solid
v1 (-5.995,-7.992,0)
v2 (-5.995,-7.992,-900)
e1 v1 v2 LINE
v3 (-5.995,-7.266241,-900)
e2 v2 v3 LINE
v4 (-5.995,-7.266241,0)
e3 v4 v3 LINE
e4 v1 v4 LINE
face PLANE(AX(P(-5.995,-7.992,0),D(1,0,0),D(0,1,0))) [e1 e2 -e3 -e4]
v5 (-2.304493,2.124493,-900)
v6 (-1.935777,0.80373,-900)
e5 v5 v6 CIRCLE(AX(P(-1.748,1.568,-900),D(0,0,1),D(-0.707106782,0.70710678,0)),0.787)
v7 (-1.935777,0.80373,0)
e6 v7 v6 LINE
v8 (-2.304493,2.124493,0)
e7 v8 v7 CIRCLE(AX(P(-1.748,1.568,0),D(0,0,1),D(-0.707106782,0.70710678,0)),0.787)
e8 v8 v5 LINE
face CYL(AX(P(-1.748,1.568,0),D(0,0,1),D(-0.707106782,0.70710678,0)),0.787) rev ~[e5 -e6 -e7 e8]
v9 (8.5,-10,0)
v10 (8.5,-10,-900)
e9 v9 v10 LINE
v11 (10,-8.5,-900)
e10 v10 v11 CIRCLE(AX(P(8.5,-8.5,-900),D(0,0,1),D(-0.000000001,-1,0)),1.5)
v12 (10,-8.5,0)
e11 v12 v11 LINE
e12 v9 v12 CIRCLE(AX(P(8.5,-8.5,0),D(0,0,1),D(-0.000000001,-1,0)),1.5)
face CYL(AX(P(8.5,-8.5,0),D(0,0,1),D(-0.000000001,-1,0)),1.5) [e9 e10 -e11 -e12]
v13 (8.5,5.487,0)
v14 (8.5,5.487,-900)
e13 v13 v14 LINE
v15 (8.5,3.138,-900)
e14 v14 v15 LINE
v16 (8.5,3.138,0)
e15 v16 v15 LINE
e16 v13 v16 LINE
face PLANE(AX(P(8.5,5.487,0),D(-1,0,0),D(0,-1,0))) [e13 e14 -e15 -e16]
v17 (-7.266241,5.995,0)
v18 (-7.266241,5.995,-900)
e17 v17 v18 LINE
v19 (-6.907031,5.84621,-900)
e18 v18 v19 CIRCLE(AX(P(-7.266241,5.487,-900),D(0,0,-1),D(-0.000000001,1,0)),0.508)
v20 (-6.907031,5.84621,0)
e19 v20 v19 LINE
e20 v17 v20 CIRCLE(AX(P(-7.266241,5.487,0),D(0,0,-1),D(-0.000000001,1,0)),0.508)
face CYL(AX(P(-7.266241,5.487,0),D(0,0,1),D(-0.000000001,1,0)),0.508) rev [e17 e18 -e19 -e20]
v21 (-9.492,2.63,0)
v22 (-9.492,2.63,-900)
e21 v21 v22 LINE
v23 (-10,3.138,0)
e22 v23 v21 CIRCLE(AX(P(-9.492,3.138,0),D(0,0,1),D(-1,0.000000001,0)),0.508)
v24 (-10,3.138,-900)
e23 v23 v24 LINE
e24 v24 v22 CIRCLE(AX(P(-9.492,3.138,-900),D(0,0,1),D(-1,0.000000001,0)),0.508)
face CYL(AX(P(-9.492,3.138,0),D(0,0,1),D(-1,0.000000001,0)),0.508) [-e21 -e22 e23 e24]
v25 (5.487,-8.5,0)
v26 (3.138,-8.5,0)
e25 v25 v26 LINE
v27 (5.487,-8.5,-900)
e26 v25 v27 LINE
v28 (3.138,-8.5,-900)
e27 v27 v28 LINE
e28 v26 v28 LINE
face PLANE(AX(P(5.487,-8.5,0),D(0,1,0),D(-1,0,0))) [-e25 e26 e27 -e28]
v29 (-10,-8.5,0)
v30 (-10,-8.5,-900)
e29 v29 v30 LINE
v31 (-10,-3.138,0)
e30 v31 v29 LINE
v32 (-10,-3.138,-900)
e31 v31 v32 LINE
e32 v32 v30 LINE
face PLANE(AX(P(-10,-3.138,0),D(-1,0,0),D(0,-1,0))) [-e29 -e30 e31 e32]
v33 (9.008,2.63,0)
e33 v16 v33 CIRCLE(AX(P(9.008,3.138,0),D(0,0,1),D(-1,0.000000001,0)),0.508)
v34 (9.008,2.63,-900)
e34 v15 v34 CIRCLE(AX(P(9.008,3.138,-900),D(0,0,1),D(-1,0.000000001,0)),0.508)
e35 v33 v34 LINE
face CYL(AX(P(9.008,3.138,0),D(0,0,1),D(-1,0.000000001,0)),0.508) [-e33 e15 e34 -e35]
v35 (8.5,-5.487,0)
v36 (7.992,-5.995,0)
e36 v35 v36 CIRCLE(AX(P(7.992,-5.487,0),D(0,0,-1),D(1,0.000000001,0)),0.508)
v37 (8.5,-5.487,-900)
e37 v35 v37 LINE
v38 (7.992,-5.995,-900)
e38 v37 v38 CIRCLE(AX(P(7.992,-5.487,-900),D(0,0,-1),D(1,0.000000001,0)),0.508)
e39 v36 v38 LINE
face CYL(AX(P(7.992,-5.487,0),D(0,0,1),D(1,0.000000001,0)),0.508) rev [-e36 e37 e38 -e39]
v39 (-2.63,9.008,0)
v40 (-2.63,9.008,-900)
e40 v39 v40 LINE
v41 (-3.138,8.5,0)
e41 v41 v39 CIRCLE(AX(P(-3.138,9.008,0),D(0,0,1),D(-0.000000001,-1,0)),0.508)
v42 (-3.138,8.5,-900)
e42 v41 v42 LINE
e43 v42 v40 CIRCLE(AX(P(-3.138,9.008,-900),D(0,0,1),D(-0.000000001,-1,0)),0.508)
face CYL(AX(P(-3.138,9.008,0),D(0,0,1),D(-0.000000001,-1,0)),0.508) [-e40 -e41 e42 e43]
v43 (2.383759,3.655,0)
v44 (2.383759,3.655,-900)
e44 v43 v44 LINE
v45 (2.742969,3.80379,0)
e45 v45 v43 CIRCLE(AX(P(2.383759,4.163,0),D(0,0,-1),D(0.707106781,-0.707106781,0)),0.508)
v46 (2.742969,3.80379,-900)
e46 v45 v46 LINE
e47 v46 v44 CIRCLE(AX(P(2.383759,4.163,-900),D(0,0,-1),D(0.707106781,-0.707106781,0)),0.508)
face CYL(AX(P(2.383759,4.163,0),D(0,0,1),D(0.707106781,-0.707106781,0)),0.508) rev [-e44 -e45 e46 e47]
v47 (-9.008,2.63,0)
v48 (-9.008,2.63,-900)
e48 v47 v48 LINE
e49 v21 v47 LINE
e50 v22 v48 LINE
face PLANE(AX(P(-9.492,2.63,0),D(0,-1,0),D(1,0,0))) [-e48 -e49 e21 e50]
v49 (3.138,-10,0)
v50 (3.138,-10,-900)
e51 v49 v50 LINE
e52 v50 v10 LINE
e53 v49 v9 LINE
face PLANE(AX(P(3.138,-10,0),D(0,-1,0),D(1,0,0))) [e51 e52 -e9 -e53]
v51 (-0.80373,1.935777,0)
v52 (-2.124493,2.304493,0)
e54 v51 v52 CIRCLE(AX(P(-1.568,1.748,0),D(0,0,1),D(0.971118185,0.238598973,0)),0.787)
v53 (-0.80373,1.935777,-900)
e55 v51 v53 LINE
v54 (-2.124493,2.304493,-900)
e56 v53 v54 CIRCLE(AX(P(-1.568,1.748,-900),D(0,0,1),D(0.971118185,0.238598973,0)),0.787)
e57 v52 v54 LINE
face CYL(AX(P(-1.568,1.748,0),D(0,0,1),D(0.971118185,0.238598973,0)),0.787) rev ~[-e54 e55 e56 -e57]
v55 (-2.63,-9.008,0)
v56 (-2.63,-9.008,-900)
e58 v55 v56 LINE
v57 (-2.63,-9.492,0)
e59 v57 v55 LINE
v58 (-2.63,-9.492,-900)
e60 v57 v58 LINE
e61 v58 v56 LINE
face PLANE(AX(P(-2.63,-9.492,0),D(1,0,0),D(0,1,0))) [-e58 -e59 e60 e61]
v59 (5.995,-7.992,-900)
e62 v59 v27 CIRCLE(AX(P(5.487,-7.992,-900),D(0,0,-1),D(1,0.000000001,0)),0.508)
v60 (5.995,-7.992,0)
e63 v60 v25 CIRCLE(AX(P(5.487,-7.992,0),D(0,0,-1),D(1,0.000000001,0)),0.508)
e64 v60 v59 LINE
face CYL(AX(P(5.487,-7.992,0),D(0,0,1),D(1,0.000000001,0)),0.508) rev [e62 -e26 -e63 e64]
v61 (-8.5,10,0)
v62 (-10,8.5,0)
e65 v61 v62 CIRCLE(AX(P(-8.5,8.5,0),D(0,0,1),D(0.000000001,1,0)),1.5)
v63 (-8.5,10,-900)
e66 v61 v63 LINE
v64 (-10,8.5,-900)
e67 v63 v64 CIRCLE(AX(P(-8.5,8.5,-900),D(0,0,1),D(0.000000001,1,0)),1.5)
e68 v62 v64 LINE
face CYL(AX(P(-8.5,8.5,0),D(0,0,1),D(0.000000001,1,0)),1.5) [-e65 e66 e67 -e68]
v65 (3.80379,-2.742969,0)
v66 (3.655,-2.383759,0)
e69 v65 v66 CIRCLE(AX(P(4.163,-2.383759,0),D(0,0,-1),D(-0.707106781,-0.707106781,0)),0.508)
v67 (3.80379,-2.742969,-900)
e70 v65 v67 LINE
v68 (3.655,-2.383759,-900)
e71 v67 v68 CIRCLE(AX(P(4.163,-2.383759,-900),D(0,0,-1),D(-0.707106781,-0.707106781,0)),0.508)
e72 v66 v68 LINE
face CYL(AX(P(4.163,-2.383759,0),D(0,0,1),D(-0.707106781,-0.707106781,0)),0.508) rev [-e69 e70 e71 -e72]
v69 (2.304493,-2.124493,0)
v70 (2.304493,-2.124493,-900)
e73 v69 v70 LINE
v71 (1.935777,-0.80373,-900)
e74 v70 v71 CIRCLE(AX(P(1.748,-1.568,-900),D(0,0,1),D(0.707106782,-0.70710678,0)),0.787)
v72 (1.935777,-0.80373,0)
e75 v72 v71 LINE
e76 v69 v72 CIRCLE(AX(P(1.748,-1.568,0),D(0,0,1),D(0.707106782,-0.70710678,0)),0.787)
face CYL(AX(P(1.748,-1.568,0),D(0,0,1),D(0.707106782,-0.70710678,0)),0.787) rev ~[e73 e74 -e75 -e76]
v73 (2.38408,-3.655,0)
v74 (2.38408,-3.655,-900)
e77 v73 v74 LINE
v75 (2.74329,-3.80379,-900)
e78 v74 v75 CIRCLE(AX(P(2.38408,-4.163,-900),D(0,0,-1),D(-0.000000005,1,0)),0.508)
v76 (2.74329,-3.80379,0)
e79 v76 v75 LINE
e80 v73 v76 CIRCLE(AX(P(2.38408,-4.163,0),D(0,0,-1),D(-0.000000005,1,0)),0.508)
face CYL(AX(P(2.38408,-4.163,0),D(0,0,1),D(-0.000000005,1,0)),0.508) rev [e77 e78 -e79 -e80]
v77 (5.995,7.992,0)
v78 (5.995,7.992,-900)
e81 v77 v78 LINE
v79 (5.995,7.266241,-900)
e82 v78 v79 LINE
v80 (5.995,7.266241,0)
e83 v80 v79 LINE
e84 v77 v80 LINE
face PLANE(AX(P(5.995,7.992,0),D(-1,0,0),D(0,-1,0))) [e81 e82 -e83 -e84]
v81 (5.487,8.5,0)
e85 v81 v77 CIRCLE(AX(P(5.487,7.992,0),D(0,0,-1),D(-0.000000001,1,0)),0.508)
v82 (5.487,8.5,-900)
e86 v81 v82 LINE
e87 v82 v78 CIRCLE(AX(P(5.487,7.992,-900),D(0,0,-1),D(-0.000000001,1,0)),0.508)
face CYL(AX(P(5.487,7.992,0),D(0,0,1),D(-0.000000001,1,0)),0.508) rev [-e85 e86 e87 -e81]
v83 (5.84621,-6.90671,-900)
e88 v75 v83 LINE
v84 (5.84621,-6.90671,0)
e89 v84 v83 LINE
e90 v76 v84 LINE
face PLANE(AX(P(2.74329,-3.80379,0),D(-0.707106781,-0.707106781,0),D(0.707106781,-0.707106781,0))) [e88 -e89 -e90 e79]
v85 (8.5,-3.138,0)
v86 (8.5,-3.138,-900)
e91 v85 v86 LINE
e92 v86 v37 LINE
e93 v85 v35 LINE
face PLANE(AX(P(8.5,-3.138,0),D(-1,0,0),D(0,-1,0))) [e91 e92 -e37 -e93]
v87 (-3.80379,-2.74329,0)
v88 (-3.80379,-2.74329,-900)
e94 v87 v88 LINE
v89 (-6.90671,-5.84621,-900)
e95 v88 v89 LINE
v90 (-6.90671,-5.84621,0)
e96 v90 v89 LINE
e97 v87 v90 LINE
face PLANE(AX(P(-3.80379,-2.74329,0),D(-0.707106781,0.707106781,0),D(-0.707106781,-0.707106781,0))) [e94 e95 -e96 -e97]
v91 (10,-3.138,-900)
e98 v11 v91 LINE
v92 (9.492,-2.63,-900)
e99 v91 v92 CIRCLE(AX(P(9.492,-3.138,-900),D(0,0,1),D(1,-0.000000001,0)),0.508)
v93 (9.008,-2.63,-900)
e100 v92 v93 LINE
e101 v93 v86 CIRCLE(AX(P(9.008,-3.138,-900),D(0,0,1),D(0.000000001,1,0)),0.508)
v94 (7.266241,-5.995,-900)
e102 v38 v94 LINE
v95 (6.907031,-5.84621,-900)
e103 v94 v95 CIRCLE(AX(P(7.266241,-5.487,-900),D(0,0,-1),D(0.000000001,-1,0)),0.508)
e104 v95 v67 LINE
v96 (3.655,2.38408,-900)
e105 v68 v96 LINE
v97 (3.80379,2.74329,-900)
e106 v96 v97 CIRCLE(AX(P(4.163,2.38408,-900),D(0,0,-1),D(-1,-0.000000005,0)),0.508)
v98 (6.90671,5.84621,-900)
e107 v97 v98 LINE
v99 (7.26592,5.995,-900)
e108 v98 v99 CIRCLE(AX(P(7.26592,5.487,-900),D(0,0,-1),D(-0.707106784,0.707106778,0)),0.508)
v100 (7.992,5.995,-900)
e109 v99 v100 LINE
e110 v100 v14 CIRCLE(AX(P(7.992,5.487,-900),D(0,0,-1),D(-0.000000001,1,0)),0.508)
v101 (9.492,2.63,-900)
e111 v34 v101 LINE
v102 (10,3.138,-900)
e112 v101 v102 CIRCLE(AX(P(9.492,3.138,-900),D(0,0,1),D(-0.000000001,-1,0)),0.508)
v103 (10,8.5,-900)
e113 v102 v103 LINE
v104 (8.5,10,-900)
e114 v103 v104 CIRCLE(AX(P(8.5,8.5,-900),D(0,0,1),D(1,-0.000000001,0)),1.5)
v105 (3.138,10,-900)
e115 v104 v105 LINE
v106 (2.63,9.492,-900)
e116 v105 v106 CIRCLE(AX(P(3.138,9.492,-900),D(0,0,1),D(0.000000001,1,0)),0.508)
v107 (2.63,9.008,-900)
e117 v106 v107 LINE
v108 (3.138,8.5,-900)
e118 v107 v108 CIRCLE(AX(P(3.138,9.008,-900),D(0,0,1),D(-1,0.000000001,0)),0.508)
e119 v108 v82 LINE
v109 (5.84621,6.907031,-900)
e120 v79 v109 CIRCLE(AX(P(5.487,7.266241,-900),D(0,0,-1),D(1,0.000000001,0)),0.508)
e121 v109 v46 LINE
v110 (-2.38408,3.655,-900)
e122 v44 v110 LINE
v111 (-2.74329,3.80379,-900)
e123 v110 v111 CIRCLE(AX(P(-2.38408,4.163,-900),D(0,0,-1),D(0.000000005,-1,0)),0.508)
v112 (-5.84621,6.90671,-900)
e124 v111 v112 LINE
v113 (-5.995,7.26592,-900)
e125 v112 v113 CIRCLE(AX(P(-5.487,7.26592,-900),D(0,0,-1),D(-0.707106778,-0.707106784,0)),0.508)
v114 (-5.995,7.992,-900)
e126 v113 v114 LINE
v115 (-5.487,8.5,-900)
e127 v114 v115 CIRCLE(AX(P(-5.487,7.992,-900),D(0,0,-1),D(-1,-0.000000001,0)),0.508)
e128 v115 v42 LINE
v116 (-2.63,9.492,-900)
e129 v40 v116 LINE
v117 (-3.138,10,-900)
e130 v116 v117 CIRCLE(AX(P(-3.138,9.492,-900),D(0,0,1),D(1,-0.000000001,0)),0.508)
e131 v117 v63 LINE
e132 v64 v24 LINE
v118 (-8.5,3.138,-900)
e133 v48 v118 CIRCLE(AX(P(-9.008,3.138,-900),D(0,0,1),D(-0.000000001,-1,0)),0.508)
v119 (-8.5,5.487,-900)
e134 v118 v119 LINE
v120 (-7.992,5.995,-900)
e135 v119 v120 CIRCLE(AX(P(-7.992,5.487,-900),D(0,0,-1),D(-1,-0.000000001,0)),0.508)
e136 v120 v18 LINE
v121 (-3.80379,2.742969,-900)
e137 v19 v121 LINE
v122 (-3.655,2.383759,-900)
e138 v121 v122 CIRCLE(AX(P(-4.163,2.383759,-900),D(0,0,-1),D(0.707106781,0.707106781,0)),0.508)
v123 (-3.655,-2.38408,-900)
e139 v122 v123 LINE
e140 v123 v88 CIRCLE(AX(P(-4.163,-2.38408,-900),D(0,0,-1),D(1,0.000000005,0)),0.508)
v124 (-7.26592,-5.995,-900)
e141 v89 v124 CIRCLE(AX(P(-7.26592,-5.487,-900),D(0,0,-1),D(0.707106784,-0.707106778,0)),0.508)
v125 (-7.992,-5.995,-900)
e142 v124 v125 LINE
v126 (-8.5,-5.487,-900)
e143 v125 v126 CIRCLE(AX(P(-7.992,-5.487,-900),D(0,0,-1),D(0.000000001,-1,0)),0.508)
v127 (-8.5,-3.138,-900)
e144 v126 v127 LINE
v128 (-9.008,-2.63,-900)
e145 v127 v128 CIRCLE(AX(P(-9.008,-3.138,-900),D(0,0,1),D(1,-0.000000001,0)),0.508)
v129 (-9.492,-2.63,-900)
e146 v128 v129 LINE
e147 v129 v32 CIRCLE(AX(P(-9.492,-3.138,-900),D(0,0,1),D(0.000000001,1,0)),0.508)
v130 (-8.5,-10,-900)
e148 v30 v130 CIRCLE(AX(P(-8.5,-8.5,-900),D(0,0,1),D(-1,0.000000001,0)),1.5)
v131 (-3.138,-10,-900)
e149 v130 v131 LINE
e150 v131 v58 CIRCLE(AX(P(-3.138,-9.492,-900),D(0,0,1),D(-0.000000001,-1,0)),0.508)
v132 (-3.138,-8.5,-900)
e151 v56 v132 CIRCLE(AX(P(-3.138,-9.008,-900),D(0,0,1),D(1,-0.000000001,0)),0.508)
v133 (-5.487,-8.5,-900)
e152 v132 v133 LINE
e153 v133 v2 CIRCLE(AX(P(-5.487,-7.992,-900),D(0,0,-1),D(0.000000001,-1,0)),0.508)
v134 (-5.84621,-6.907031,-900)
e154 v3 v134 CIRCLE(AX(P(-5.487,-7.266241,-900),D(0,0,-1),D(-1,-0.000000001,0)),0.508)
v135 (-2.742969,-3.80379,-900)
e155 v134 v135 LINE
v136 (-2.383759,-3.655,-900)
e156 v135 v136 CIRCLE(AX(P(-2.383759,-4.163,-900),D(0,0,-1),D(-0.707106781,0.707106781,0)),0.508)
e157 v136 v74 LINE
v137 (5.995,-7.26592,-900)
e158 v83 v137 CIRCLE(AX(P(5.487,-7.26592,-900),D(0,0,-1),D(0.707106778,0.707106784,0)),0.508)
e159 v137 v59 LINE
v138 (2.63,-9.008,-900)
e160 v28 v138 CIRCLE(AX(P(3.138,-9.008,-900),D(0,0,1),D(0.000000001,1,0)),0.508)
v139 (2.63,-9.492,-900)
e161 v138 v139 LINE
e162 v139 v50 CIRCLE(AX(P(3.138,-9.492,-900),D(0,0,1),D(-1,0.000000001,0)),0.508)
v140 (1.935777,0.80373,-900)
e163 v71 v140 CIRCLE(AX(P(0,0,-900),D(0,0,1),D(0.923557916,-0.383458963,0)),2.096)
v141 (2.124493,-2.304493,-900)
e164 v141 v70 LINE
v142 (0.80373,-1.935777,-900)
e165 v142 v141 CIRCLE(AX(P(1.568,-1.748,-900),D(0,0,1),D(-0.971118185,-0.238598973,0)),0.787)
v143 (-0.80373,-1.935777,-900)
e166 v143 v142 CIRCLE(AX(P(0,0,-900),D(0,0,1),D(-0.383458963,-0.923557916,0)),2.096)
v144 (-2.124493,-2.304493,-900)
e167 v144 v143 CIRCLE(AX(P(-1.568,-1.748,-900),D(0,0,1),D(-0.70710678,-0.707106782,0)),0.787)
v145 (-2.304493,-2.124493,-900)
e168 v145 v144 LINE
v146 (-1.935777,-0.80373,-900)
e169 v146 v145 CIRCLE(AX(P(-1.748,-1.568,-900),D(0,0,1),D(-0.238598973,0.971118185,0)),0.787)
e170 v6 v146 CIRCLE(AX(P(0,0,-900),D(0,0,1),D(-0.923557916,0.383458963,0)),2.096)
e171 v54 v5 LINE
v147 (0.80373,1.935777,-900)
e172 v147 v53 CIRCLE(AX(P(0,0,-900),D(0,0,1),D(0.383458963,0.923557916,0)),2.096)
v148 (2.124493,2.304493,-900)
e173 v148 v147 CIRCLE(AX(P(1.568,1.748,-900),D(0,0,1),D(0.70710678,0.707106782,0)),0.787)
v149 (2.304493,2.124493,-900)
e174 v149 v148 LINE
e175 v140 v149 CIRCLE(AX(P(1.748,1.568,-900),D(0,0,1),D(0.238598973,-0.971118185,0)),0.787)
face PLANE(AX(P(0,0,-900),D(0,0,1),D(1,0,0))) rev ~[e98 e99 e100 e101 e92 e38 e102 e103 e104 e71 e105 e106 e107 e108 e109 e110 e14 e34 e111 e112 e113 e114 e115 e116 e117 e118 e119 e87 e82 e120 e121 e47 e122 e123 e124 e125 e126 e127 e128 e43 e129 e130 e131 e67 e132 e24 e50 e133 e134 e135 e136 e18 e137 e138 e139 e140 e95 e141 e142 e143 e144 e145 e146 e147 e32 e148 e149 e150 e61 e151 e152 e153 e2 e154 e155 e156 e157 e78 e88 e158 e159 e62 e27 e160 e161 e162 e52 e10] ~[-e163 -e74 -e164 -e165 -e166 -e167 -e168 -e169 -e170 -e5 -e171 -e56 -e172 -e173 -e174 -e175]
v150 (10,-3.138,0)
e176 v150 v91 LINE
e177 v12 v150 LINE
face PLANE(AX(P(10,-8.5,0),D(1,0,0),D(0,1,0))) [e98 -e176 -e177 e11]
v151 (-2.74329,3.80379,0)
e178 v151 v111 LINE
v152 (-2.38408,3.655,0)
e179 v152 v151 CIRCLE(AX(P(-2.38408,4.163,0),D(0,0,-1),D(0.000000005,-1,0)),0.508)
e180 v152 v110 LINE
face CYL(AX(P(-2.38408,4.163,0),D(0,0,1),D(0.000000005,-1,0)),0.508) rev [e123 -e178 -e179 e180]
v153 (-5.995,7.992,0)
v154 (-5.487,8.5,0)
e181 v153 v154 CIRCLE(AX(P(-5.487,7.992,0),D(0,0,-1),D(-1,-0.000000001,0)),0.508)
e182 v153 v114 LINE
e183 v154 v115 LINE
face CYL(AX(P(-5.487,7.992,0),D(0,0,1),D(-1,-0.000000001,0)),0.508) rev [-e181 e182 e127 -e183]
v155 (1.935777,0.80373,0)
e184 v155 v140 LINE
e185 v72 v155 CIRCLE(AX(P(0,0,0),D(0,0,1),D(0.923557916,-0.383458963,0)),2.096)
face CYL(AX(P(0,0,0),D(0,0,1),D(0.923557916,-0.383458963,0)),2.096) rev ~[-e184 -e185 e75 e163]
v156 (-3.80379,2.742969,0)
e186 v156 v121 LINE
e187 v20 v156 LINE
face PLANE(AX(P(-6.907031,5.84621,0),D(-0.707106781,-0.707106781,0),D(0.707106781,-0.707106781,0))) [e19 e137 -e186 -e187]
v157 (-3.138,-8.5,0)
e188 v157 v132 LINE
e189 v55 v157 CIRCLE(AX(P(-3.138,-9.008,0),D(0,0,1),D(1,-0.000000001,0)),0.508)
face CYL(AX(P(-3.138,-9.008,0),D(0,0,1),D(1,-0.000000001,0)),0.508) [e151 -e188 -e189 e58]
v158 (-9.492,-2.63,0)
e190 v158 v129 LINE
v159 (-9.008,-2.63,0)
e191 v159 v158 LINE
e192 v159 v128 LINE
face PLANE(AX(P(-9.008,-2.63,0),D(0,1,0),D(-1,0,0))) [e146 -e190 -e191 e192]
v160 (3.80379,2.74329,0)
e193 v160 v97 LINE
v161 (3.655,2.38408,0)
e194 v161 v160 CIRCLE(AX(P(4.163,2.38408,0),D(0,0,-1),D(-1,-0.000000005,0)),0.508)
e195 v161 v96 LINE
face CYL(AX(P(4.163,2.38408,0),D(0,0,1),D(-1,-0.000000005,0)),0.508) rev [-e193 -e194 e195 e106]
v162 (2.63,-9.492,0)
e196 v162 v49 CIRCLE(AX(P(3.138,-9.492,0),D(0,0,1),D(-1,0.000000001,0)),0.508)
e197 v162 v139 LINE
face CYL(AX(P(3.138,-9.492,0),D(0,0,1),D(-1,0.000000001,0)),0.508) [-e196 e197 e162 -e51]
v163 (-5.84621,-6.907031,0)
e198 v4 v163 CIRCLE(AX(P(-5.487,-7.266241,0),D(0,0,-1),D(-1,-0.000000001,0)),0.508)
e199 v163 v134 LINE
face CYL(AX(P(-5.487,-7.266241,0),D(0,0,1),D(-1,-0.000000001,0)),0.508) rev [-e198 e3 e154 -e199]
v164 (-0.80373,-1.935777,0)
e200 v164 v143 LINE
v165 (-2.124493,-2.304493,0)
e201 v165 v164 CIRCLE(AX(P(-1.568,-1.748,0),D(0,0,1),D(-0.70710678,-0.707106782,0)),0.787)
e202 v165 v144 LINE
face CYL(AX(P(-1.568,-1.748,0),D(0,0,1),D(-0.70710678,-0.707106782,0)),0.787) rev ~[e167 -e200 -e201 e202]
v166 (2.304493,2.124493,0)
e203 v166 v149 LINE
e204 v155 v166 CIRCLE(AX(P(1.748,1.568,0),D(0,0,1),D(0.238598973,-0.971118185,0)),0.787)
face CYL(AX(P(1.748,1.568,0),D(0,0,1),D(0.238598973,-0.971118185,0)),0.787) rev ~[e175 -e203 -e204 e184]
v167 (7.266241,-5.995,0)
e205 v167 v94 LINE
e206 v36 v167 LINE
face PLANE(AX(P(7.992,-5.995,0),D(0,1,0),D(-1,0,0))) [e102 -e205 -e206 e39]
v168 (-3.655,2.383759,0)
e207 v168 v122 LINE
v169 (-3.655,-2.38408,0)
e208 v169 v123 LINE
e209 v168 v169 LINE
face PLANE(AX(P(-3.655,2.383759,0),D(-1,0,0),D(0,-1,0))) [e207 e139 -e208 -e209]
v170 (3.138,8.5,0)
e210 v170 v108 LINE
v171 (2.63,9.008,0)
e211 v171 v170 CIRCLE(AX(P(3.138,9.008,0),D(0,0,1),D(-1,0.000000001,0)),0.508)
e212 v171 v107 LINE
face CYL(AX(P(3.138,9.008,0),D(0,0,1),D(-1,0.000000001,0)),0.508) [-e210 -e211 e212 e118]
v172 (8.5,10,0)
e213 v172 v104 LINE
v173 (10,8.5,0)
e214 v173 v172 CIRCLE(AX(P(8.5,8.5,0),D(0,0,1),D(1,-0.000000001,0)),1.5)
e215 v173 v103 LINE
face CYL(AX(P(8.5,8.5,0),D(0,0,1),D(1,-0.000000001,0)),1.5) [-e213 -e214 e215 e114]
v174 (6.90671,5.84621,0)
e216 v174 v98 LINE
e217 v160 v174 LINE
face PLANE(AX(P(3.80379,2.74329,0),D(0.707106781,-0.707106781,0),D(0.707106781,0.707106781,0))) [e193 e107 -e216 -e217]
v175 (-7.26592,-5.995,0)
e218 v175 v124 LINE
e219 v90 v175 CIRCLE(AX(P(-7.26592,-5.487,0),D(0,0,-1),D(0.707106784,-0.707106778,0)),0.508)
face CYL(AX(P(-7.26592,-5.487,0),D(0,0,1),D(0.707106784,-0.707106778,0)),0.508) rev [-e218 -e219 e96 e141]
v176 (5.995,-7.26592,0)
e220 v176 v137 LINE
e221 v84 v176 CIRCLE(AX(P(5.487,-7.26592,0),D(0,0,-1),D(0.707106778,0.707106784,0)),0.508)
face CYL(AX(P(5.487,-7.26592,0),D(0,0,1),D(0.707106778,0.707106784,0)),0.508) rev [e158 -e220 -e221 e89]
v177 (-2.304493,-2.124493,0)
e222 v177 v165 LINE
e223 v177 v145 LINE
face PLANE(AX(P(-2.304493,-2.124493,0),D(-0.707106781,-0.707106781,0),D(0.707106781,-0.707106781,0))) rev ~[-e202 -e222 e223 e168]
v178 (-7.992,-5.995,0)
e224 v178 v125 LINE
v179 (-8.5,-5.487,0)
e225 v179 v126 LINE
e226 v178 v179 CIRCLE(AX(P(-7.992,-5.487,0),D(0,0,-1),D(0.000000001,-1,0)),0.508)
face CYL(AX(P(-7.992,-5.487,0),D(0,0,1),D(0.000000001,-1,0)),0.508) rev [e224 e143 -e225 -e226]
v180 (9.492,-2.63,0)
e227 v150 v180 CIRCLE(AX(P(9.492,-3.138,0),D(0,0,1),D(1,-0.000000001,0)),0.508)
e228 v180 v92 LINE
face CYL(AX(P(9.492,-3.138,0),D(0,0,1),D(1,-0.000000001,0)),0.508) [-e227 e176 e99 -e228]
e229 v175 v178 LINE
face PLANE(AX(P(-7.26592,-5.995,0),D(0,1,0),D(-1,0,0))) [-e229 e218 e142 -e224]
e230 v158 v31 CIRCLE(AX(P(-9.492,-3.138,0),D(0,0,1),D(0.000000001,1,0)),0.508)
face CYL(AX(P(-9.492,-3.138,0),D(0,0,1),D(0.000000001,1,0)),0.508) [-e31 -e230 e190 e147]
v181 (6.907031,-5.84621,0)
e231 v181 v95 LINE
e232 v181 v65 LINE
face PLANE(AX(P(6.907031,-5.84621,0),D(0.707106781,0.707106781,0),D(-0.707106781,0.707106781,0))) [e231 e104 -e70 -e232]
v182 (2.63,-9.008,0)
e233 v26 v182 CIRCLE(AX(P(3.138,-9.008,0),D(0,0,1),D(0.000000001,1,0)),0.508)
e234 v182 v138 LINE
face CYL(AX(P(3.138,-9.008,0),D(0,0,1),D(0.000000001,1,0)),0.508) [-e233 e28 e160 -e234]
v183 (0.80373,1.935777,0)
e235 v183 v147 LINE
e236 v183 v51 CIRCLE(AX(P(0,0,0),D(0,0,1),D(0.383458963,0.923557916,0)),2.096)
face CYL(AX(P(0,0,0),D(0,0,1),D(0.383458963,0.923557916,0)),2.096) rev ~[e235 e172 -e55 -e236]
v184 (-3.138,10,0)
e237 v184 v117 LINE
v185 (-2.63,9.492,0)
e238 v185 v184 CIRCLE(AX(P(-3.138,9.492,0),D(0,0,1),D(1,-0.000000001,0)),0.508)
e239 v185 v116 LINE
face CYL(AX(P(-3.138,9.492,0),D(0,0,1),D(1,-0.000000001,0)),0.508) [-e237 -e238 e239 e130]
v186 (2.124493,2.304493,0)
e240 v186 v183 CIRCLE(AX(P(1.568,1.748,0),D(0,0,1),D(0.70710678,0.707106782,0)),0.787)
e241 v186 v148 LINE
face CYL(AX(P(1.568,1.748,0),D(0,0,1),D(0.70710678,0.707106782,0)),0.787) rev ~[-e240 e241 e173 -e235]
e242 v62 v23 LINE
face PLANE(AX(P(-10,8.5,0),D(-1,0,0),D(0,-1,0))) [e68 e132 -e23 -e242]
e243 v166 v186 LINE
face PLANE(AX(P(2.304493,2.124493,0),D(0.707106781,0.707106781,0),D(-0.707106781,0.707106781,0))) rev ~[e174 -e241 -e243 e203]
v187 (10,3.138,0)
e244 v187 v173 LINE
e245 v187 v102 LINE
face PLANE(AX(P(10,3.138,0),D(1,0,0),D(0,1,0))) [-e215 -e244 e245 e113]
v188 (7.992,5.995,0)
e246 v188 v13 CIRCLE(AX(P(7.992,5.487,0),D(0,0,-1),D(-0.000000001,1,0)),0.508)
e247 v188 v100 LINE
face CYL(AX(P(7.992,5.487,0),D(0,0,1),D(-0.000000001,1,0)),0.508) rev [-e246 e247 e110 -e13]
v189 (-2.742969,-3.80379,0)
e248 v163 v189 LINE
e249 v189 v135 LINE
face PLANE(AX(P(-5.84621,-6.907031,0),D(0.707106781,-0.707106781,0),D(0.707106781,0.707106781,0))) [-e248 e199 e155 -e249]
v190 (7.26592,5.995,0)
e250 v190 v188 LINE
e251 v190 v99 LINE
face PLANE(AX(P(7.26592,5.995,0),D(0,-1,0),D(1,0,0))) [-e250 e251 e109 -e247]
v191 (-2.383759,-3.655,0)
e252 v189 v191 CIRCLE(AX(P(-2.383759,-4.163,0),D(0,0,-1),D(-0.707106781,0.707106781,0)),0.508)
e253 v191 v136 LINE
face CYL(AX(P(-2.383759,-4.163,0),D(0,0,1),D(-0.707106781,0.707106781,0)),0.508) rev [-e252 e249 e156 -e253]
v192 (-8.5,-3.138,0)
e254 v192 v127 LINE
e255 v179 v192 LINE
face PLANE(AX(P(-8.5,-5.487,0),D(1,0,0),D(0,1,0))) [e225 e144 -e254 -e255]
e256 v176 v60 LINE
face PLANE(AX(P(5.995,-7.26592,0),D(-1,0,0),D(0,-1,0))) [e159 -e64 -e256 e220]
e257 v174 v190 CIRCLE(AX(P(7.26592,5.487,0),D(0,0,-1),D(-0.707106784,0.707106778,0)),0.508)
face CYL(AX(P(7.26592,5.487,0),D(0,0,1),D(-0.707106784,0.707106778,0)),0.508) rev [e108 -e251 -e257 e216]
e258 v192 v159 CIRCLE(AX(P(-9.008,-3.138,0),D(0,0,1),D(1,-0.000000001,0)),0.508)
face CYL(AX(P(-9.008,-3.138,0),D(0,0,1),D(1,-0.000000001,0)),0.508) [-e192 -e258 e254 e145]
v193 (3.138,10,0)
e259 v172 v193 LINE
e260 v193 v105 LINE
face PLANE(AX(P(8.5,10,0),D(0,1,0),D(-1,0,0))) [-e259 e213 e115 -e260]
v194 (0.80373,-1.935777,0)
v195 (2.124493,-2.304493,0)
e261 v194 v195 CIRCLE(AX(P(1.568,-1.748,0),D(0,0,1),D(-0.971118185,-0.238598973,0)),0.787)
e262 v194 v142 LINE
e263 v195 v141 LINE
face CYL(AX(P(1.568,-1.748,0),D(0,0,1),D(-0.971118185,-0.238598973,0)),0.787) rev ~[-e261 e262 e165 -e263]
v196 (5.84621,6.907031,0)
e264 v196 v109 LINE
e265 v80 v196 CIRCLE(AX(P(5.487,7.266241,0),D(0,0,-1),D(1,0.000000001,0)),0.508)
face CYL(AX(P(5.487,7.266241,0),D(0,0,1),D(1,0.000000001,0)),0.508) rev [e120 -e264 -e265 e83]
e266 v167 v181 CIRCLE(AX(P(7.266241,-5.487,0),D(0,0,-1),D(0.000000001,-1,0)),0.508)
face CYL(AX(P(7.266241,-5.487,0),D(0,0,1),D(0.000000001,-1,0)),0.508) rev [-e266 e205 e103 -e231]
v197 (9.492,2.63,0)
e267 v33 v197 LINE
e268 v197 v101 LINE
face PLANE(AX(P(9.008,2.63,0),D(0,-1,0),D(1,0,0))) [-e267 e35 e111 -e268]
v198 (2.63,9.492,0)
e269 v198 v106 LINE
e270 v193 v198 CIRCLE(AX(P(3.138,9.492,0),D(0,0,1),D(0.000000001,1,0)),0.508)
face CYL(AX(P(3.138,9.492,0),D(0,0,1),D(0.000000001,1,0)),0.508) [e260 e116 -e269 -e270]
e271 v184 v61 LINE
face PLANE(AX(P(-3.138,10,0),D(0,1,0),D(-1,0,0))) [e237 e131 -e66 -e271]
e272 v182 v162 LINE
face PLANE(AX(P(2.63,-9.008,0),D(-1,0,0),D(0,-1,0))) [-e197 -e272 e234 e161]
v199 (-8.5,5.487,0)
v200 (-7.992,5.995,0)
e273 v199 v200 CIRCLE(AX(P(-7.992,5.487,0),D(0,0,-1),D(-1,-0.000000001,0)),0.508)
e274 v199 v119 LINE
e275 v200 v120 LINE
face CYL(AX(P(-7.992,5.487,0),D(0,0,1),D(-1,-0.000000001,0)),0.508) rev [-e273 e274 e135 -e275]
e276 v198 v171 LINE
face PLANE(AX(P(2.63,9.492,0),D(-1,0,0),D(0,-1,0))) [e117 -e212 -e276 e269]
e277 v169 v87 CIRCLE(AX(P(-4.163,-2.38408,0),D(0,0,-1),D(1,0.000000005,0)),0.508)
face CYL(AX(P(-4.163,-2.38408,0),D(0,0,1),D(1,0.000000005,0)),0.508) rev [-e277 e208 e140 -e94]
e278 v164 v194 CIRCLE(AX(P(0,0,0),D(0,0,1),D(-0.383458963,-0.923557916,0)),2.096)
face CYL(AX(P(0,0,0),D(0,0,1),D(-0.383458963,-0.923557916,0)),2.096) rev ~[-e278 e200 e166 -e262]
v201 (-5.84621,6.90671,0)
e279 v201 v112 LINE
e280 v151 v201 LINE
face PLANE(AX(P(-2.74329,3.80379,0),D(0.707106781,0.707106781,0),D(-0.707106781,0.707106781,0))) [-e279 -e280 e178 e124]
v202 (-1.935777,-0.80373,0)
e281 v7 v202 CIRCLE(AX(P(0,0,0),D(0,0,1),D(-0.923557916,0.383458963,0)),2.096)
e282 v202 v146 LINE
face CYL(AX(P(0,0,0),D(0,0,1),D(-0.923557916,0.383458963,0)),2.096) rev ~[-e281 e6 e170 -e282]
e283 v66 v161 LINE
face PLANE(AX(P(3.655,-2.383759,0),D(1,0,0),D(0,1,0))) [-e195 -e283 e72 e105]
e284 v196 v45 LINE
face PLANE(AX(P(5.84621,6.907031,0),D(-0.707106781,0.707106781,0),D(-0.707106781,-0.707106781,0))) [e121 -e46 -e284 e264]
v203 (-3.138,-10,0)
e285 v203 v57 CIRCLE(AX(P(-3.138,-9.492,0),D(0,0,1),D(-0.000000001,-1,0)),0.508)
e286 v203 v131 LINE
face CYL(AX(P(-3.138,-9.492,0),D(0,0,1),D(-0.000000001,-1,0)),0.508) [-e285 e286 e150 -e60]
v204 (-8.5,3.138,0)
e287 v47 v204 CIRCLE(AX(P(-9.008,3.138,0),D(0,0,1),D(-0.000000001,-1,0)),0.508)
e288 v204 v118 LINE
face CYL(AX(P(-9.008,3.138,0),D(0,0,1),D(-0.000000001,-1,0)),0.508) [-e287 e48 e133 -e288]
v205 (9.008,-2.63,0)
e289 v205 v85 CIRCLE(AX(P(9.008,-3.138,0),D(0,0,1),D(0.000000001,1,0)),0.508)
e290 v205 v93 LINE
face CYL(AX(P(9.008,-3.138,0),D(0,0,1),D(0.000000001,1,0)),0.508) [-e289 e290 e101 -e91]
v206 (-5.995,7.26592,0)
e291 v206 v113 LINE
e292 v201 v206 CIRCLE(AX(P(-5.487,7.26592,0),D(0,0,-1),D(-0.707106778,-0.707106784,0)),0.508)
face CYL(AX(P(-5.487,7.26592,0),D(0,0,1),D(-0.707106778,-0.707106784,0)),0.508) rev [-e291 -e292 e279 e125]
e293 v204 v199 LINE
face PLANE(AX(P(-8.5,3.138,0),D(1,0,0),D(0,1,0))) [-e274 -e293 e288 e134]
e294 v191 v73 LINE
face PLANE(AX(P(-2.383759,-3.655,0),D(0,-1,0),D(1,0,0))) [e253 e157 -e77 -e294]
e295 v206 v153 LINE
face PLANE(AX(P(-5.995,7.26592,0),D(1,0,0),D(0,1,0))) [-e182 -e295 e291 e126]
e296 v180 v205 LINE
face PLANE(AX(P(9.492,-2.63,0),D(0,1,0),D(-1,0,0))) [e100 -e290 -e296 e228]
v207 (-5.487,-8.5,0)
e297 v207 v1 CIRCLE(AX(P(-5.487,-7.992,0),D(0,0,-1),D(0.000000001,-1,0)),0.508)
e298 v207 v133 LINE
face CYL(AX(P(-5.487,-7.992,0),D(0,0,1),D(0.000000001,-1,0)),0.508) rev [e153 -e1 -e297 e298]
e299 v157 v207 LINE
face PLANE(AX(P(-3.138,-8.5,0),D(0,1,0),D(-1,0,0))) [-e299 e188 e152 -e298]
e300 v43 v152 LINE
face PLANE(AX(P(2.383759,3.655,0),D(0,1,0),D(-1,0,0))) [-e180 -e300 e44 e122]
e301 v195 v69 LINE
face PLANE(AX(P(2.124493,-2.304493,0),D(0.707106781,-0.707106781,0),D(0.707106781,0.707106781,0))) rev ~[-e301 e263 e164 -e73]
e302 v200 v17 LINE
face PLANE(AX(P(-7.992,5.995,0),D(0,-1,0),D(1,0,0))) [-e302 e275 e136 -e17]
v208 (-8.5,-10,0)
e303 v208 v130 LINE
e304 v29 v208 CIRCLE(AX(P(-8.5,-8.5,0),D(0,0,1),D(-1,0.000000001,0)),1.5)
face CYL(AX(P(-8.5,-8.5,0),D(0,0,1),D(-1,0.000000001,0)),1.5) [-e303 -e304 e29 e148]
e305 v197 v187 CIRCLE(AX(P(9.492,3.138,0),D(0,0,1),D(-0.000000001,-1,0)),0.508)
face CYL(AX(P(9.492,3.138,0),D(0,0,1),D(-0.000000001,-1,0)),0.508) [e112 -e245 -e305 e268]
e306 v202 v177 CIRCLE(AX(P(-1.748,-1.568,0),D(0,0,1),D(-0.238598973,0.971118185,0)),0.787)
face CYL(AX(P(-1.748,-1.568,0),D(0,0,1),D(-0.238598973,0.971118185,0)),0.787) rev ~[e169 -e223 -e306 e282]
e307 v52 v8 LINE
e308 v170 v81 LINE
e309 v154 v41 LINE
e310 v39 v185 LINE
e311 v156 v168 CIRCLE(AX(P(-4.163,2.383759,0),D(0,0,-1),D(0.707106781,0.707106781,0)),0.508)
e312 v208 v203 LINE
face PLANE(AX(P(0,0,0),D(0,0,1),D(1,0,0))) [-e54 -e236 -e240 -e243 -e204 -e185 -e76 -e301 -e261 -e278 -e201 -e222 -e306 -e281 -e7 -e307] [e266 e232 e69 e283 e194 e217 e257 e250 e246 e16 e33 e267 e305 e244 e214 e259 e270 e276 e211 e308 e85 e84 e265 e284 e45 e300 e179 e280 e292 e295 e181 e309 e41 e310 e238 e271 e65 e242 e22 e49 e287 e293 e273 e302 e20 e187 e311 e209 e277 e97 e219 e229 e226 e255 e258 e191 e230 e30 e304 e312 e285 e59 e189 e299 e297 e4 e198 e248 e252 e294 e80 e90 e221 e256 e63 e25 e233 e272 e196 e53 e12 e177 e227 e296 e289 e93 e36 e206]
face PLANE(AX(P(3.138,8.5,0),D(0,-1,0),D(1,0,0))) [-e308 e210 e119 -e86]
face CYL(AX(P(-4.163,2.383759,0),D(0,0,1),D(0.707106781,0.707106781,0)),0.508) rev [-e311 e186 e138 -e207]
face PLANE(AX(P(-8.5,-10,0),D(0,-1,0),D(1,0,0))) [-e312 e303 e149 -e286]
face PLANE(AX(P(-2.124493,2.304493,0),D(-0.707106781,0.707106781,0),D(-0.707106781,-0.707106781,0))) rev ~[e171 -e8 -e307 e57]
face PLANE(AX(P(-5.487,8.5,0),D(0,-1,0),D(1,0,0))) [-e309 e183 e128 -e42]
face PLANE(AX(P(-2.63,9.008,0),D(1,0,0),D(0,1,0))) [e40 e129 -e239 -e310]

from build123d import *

# Parameters (mm, degrees)
BOSS_EXTRUDE1_DEPTH = 900


with BuildPart() as part:
    # Sketch2 → Boss-Extrude1 (new body)
    with BuildSketch(Plane.XY):
        with BuildLine():
            Line((-10, -3.138), (-10, -8.5))
            ThreePointArc((-10, -8.5), (-9.560660172, -9.560660172), (-8.5, -10))
            Line((-8.5, -10), (-3.138, -10))
            ThreePointArc((-3.138, -10), (-2.778789755, -9.851210245), (-2.63, -9.492))
            Line((-2.63, -9.492), (-2.63, -9.008))
            ThreePointArc((-2.63, -9.008), (-2.778789755, -8.648789755), (-3.138, -8.5))
            Line((-3.138, -8.5), (-5.487, -8.5))
            ThreePointArc((-5.487, -8.5), (-5.846210245, -8.351210245), (-5.995, -7.992))
            Line((-5.995, -7.992), (-5.995, -7.266240833))
            ThreePointArc((-5.995, -7.266240833), (-5.956330803, -7.07183765), (-5.846210245, -6.907030588))
            Line((-5.846210245, -6.907030588), (-2.742969412, -3.803789755))
            ThreePointArc((-2.742969412, -3.803789755), (-2.57816235, -3.693669197), (-2.383759167, -3.655))
            Line((-2.383759167, -3.655), (2.38407951, -3.655))
            ThreePointArc((2.38407951, -3.655), (2.578482694, -3.693669197), (2.743289755, -3.803789755))
            Line((2.743289755, -3.803789755), (5.846210245, -6.906710245))
            ThreePointArc((5.846210245, -6.906710245), (5.956330803, -7.071517306), (5.995, -7.26592049))
            Line((5.995, -7.26592049), (5.995, -7.992))
            ThreePointArc((5.995, -7.992), (5.846210245, -8.351210245), (5.487, -8.5))
            Line((5.487, -8.5), (3.138, -8.5))
            ThreePointArc((3.138, -8.5), (2.778789755, -8.648789755), (2.63, -9.008))
            Line((2.63, -9.008), (2.63, -9.492))
            ThreePointArc((2.63, -9.492), (2.778789755, -9.851210245), (3.138, -10))
            Line((3.138, -10), (8.5, -10))
            ThreePointArc((8.5, -10), (9.560660172, -9.560660172), (10, -8.5))
            Line((10, -8.5), (10, -3.138))
            ThreePointArc((10, -3.138), (9.851210245, -2.778789755), (9.492, -2.63))
            Line((9.492, -2.63), (9.008, -2.63))
            ThreePointArc((9.008, -2.63), (8.648789755, -2.778789755), (8.5, -3.138))
            Line((8.5, -3.138), (8.5, -5.487))
            ThreePointArc((8.5, -5.487), (8.351210245, -5.846210245), (7.992, -5.995))
            Line((7.992, -5.995), (7.266240833, -5.995))
            ThreePointArc((7.266240833, -5.995), (7.07183765, -5.956330803), (6.907030588, -5.846210245))
            Line((6.907030588, -5.846210245), (3.803789755, -2.742969412))
            ThreePointArc((3.803789755, -2.742969412), (3.693669197, -2.57816235), (3.655, -2.383759167))
            Line((3.655, -2.383759167), (3.655, 2.38407951))
            ThreePointArc((3.655, 2.38407951), (3.693669197, 2.578482694), (3.803789755, 2.743289755))
            Line((3.803789755, 2.743289755), (6.906710245, 5.846210245))
            ThreePointArc((6.906710245, 5.846210245), (7.071517306, 5.956330803), (7.26592049, 5.995))
            Line((7.26592049, 5.995), (7.992, 5.995))
            ThreePointArc((7.992, 5.995), (8.351210245, 5.846210245), (8.5, 5.487))
            Line((8.5, 5.487), (8.5, 3.138))
            ThreePointArc((8.5, 3.138), (8.648789755, 2.778789755), (9.008, 2.63))
            Line((9.008, 2.63), (9.492, 2.63))
            ThreePointArc((9.492, 2.63), (9.851210245, 2.778789755), (10, 3.138))
            Line((10, 3.138), (10, 8.5))
            ThreePointArc((10, 8.5), (9.560660172, 9.560660172), (8.5, 10))
            Line((8.5, 10), (3.138, 10))
            ThreePointArc((3.138, 10), (2.778789755, 9.851210245), (2.63, 9.492))
            Line((2.63, 9.492), (2.63, 9.008))
            ThreePointArc((2.63, 9.008), (2.778789755, 8.648789755), (3.138, 8.5))
            Line((3.138, 8.5), (5.487, 8.5))
            ThreePointArc((5.487, 8.5), (5.846210245, 8.351210245), (5.995, 7.992))
            Line((5.995, 7.992), (5.995, 7.266240833))
            ThreePointArc((5.995, 7.266240833), (5.956330803, 7.07183765), (5.846210245, 6.907030588))
            Line((5.846210245, 6.907030588), (2.742969412, 3.803789755))
            ThreePointArc((2.742969412, 3.803789755), (2.57816235, 3.693669197), (2.383759167, 3.655))
            Line((2.383759167, 3.655), (-2.38407951, 3.655))
            ThreePointArc((-2.38407951, 3.655), (-2.578482694, 3.693669197), (-2.743289755, 3.803789755))
            Line((-2.743289755, 3.803789755), (-5.846210245, 6.906710245))
            ThreePointArc((-5.846210245, 6.906710245), (-5.956330803, 7.071517306), (-5.995, 7.26592049))
            Line((-5.995, 7.26592049), (-5.995, 7.992))
            ThreePointArc((-5.995, 7.992), (-5.846210245, 8.351210245), (-5.487, 8.5))
            Line((-5.487, 8.5), (-3.138, 8.5))
            ThreePointArc((-3.138, 8.5), (-2.778789755, 8.648789755), (-2.63, 9.008))
            Line((-2.63, 9.008), (-2.63, 9.492))
            ThreePointArc((-2.63, 9.492), (-2.778789755, 9.851210245), (-3.138, 10))
            Line((-3.138, 10), (-8.5, 10))
            ThreePointArc((-8.5, 10), (-9.560660172, 9.560660172), (-10, 8.5))
            Line((-10, 8.5), (-10, 3.138))
            ThreePointArc((-10, 3.138), (-9.851210245, 2.778789755), (-9.492, 2.63))
            Line((-9.492, 2.63), (-9.008, 2.63))
            ThreePointArc((-9.008, 2.63), (-8.648789755, 2.778789755), (-8.5, 3.138))
            Line((-8.5, 3.138), (-8.5, 5.487))
            ThreePointArc((-8.5, 5.487), (-8.351210245, 5.846210245), (-7.992, 5.995))
            Line((-7.992, 5.995), (-7.266240833, 5.995))
            ThreePointArc((-7.266240833, 5.995), (-7.07183765, 5.956330803), (-6.907030588, 5.846210245))
            Line((-6.907030588, 5.846210245), (-3.803789755, 2.742969412))
            ThreePointArc((-3.803789755, 2.742969412), (-3.693669197, 2.57816235), (-3.655, 2.383759167))
            Line((-3.655, 2.383759167), (-3.655, -2.38407951))
            ThreePointArc((-3.655, -2.38407951), (-3.693669197, -2.578482694), (-3.803789755, -2.743289755))
            Line((-3.803789755, -2.743289755), (-6.906710245, -5.846210245))
            ThreePointArc((-6.906710245, -5.846210245), (-7.071517306, -5.956330803), (-7.26592049, -5.995))
            Line((-7.26592049, -5.995), (-7.992, -5.995))
            ThreePointArc((-7.992, -5.995), (-8.351210245, -5.846210245), (-8.5, -5.487))
            Line((-8.5, -5.487), (-8.5, -3.138))
            ThreePointArc((-8.5, -3.138), (-8.648789755, -2.778789755), (-9.008, -2.63))
            Line((-9.008, -2.63), (-9.492, -2.63))
            ThreePointArc((-9.492, -2.63), (-9.851210245, -2.778789755), (-10, -3.138))
        make_face()
        with BuildLine():
            Line((-2.124493037, 2.304493037), (-2.304493037, 2.124493037))
            ThreePointArc((-2.304493037, 2.124493037), (-2.506016078, 1.35638567), (-1.935777391, 0.803729988))
            ThreePointArc((-1.935777391, 0.803729988), (-2.096, 0), (-1.935777391, -0.803729988))
            ThreePointArc((-1.935777391, -0.803729988), (-2.506016078, -1.35638567), (-2.304493037, -2.124493037))
            Line((-2.304493037, -2.124493037), (-2.124493037, -2.304493037))
            ThreePointArc((-2.124493037, -2.304493037), (-1.35638567, -2.506016078), (-0.803729988, -1.935777391))
            ThreePointArc((-0.803729988, -1.935777391), (0, -2.096), (0.803729988, -1.935777391))
            ThreePointArc((0.803729988, -1.935777391), (1.35638567, -2.506016078), (2.124493037, -2.304493037))
            Line((2.124493037, -2.304493037), (2.304493037, -2.124493037))
            ThreePointArc((2.304493037, -2.124493037), (2.506016078, -1.35638567), (1.935777391, -0.803729988))
            ThreePointArc((1.935777391, -0.803729988), (2.096, 0), (1.935777391, 0.803729988))
            ThreePointArc((1.935777391, 0.803729988), (2.506016078, 1.35638567), (2.304493037, 2.124493037))
            Line((2.304493037, 2.124493037), (2.124493037, 2.304493037))
            ThreePointArc((2.124493037, 2.304493037), (1.35638567, 2.506016078), (0.803729988, 1.935777391))
            ThreePointArc((0.803729988, 1.935777391), (0, 2.096), (-0.803729988, 1.935777391))
            ThreePointArc((-0.803729988, 1.935777391), (-1.35638567, 2.506016078), (-2.124493037, 2.304493037))
        make_face(mode=Mode.SUBTRACT)
    extrude(amount=-BOSS_EXTRUDE1_DEPTH)


solid = part.part
